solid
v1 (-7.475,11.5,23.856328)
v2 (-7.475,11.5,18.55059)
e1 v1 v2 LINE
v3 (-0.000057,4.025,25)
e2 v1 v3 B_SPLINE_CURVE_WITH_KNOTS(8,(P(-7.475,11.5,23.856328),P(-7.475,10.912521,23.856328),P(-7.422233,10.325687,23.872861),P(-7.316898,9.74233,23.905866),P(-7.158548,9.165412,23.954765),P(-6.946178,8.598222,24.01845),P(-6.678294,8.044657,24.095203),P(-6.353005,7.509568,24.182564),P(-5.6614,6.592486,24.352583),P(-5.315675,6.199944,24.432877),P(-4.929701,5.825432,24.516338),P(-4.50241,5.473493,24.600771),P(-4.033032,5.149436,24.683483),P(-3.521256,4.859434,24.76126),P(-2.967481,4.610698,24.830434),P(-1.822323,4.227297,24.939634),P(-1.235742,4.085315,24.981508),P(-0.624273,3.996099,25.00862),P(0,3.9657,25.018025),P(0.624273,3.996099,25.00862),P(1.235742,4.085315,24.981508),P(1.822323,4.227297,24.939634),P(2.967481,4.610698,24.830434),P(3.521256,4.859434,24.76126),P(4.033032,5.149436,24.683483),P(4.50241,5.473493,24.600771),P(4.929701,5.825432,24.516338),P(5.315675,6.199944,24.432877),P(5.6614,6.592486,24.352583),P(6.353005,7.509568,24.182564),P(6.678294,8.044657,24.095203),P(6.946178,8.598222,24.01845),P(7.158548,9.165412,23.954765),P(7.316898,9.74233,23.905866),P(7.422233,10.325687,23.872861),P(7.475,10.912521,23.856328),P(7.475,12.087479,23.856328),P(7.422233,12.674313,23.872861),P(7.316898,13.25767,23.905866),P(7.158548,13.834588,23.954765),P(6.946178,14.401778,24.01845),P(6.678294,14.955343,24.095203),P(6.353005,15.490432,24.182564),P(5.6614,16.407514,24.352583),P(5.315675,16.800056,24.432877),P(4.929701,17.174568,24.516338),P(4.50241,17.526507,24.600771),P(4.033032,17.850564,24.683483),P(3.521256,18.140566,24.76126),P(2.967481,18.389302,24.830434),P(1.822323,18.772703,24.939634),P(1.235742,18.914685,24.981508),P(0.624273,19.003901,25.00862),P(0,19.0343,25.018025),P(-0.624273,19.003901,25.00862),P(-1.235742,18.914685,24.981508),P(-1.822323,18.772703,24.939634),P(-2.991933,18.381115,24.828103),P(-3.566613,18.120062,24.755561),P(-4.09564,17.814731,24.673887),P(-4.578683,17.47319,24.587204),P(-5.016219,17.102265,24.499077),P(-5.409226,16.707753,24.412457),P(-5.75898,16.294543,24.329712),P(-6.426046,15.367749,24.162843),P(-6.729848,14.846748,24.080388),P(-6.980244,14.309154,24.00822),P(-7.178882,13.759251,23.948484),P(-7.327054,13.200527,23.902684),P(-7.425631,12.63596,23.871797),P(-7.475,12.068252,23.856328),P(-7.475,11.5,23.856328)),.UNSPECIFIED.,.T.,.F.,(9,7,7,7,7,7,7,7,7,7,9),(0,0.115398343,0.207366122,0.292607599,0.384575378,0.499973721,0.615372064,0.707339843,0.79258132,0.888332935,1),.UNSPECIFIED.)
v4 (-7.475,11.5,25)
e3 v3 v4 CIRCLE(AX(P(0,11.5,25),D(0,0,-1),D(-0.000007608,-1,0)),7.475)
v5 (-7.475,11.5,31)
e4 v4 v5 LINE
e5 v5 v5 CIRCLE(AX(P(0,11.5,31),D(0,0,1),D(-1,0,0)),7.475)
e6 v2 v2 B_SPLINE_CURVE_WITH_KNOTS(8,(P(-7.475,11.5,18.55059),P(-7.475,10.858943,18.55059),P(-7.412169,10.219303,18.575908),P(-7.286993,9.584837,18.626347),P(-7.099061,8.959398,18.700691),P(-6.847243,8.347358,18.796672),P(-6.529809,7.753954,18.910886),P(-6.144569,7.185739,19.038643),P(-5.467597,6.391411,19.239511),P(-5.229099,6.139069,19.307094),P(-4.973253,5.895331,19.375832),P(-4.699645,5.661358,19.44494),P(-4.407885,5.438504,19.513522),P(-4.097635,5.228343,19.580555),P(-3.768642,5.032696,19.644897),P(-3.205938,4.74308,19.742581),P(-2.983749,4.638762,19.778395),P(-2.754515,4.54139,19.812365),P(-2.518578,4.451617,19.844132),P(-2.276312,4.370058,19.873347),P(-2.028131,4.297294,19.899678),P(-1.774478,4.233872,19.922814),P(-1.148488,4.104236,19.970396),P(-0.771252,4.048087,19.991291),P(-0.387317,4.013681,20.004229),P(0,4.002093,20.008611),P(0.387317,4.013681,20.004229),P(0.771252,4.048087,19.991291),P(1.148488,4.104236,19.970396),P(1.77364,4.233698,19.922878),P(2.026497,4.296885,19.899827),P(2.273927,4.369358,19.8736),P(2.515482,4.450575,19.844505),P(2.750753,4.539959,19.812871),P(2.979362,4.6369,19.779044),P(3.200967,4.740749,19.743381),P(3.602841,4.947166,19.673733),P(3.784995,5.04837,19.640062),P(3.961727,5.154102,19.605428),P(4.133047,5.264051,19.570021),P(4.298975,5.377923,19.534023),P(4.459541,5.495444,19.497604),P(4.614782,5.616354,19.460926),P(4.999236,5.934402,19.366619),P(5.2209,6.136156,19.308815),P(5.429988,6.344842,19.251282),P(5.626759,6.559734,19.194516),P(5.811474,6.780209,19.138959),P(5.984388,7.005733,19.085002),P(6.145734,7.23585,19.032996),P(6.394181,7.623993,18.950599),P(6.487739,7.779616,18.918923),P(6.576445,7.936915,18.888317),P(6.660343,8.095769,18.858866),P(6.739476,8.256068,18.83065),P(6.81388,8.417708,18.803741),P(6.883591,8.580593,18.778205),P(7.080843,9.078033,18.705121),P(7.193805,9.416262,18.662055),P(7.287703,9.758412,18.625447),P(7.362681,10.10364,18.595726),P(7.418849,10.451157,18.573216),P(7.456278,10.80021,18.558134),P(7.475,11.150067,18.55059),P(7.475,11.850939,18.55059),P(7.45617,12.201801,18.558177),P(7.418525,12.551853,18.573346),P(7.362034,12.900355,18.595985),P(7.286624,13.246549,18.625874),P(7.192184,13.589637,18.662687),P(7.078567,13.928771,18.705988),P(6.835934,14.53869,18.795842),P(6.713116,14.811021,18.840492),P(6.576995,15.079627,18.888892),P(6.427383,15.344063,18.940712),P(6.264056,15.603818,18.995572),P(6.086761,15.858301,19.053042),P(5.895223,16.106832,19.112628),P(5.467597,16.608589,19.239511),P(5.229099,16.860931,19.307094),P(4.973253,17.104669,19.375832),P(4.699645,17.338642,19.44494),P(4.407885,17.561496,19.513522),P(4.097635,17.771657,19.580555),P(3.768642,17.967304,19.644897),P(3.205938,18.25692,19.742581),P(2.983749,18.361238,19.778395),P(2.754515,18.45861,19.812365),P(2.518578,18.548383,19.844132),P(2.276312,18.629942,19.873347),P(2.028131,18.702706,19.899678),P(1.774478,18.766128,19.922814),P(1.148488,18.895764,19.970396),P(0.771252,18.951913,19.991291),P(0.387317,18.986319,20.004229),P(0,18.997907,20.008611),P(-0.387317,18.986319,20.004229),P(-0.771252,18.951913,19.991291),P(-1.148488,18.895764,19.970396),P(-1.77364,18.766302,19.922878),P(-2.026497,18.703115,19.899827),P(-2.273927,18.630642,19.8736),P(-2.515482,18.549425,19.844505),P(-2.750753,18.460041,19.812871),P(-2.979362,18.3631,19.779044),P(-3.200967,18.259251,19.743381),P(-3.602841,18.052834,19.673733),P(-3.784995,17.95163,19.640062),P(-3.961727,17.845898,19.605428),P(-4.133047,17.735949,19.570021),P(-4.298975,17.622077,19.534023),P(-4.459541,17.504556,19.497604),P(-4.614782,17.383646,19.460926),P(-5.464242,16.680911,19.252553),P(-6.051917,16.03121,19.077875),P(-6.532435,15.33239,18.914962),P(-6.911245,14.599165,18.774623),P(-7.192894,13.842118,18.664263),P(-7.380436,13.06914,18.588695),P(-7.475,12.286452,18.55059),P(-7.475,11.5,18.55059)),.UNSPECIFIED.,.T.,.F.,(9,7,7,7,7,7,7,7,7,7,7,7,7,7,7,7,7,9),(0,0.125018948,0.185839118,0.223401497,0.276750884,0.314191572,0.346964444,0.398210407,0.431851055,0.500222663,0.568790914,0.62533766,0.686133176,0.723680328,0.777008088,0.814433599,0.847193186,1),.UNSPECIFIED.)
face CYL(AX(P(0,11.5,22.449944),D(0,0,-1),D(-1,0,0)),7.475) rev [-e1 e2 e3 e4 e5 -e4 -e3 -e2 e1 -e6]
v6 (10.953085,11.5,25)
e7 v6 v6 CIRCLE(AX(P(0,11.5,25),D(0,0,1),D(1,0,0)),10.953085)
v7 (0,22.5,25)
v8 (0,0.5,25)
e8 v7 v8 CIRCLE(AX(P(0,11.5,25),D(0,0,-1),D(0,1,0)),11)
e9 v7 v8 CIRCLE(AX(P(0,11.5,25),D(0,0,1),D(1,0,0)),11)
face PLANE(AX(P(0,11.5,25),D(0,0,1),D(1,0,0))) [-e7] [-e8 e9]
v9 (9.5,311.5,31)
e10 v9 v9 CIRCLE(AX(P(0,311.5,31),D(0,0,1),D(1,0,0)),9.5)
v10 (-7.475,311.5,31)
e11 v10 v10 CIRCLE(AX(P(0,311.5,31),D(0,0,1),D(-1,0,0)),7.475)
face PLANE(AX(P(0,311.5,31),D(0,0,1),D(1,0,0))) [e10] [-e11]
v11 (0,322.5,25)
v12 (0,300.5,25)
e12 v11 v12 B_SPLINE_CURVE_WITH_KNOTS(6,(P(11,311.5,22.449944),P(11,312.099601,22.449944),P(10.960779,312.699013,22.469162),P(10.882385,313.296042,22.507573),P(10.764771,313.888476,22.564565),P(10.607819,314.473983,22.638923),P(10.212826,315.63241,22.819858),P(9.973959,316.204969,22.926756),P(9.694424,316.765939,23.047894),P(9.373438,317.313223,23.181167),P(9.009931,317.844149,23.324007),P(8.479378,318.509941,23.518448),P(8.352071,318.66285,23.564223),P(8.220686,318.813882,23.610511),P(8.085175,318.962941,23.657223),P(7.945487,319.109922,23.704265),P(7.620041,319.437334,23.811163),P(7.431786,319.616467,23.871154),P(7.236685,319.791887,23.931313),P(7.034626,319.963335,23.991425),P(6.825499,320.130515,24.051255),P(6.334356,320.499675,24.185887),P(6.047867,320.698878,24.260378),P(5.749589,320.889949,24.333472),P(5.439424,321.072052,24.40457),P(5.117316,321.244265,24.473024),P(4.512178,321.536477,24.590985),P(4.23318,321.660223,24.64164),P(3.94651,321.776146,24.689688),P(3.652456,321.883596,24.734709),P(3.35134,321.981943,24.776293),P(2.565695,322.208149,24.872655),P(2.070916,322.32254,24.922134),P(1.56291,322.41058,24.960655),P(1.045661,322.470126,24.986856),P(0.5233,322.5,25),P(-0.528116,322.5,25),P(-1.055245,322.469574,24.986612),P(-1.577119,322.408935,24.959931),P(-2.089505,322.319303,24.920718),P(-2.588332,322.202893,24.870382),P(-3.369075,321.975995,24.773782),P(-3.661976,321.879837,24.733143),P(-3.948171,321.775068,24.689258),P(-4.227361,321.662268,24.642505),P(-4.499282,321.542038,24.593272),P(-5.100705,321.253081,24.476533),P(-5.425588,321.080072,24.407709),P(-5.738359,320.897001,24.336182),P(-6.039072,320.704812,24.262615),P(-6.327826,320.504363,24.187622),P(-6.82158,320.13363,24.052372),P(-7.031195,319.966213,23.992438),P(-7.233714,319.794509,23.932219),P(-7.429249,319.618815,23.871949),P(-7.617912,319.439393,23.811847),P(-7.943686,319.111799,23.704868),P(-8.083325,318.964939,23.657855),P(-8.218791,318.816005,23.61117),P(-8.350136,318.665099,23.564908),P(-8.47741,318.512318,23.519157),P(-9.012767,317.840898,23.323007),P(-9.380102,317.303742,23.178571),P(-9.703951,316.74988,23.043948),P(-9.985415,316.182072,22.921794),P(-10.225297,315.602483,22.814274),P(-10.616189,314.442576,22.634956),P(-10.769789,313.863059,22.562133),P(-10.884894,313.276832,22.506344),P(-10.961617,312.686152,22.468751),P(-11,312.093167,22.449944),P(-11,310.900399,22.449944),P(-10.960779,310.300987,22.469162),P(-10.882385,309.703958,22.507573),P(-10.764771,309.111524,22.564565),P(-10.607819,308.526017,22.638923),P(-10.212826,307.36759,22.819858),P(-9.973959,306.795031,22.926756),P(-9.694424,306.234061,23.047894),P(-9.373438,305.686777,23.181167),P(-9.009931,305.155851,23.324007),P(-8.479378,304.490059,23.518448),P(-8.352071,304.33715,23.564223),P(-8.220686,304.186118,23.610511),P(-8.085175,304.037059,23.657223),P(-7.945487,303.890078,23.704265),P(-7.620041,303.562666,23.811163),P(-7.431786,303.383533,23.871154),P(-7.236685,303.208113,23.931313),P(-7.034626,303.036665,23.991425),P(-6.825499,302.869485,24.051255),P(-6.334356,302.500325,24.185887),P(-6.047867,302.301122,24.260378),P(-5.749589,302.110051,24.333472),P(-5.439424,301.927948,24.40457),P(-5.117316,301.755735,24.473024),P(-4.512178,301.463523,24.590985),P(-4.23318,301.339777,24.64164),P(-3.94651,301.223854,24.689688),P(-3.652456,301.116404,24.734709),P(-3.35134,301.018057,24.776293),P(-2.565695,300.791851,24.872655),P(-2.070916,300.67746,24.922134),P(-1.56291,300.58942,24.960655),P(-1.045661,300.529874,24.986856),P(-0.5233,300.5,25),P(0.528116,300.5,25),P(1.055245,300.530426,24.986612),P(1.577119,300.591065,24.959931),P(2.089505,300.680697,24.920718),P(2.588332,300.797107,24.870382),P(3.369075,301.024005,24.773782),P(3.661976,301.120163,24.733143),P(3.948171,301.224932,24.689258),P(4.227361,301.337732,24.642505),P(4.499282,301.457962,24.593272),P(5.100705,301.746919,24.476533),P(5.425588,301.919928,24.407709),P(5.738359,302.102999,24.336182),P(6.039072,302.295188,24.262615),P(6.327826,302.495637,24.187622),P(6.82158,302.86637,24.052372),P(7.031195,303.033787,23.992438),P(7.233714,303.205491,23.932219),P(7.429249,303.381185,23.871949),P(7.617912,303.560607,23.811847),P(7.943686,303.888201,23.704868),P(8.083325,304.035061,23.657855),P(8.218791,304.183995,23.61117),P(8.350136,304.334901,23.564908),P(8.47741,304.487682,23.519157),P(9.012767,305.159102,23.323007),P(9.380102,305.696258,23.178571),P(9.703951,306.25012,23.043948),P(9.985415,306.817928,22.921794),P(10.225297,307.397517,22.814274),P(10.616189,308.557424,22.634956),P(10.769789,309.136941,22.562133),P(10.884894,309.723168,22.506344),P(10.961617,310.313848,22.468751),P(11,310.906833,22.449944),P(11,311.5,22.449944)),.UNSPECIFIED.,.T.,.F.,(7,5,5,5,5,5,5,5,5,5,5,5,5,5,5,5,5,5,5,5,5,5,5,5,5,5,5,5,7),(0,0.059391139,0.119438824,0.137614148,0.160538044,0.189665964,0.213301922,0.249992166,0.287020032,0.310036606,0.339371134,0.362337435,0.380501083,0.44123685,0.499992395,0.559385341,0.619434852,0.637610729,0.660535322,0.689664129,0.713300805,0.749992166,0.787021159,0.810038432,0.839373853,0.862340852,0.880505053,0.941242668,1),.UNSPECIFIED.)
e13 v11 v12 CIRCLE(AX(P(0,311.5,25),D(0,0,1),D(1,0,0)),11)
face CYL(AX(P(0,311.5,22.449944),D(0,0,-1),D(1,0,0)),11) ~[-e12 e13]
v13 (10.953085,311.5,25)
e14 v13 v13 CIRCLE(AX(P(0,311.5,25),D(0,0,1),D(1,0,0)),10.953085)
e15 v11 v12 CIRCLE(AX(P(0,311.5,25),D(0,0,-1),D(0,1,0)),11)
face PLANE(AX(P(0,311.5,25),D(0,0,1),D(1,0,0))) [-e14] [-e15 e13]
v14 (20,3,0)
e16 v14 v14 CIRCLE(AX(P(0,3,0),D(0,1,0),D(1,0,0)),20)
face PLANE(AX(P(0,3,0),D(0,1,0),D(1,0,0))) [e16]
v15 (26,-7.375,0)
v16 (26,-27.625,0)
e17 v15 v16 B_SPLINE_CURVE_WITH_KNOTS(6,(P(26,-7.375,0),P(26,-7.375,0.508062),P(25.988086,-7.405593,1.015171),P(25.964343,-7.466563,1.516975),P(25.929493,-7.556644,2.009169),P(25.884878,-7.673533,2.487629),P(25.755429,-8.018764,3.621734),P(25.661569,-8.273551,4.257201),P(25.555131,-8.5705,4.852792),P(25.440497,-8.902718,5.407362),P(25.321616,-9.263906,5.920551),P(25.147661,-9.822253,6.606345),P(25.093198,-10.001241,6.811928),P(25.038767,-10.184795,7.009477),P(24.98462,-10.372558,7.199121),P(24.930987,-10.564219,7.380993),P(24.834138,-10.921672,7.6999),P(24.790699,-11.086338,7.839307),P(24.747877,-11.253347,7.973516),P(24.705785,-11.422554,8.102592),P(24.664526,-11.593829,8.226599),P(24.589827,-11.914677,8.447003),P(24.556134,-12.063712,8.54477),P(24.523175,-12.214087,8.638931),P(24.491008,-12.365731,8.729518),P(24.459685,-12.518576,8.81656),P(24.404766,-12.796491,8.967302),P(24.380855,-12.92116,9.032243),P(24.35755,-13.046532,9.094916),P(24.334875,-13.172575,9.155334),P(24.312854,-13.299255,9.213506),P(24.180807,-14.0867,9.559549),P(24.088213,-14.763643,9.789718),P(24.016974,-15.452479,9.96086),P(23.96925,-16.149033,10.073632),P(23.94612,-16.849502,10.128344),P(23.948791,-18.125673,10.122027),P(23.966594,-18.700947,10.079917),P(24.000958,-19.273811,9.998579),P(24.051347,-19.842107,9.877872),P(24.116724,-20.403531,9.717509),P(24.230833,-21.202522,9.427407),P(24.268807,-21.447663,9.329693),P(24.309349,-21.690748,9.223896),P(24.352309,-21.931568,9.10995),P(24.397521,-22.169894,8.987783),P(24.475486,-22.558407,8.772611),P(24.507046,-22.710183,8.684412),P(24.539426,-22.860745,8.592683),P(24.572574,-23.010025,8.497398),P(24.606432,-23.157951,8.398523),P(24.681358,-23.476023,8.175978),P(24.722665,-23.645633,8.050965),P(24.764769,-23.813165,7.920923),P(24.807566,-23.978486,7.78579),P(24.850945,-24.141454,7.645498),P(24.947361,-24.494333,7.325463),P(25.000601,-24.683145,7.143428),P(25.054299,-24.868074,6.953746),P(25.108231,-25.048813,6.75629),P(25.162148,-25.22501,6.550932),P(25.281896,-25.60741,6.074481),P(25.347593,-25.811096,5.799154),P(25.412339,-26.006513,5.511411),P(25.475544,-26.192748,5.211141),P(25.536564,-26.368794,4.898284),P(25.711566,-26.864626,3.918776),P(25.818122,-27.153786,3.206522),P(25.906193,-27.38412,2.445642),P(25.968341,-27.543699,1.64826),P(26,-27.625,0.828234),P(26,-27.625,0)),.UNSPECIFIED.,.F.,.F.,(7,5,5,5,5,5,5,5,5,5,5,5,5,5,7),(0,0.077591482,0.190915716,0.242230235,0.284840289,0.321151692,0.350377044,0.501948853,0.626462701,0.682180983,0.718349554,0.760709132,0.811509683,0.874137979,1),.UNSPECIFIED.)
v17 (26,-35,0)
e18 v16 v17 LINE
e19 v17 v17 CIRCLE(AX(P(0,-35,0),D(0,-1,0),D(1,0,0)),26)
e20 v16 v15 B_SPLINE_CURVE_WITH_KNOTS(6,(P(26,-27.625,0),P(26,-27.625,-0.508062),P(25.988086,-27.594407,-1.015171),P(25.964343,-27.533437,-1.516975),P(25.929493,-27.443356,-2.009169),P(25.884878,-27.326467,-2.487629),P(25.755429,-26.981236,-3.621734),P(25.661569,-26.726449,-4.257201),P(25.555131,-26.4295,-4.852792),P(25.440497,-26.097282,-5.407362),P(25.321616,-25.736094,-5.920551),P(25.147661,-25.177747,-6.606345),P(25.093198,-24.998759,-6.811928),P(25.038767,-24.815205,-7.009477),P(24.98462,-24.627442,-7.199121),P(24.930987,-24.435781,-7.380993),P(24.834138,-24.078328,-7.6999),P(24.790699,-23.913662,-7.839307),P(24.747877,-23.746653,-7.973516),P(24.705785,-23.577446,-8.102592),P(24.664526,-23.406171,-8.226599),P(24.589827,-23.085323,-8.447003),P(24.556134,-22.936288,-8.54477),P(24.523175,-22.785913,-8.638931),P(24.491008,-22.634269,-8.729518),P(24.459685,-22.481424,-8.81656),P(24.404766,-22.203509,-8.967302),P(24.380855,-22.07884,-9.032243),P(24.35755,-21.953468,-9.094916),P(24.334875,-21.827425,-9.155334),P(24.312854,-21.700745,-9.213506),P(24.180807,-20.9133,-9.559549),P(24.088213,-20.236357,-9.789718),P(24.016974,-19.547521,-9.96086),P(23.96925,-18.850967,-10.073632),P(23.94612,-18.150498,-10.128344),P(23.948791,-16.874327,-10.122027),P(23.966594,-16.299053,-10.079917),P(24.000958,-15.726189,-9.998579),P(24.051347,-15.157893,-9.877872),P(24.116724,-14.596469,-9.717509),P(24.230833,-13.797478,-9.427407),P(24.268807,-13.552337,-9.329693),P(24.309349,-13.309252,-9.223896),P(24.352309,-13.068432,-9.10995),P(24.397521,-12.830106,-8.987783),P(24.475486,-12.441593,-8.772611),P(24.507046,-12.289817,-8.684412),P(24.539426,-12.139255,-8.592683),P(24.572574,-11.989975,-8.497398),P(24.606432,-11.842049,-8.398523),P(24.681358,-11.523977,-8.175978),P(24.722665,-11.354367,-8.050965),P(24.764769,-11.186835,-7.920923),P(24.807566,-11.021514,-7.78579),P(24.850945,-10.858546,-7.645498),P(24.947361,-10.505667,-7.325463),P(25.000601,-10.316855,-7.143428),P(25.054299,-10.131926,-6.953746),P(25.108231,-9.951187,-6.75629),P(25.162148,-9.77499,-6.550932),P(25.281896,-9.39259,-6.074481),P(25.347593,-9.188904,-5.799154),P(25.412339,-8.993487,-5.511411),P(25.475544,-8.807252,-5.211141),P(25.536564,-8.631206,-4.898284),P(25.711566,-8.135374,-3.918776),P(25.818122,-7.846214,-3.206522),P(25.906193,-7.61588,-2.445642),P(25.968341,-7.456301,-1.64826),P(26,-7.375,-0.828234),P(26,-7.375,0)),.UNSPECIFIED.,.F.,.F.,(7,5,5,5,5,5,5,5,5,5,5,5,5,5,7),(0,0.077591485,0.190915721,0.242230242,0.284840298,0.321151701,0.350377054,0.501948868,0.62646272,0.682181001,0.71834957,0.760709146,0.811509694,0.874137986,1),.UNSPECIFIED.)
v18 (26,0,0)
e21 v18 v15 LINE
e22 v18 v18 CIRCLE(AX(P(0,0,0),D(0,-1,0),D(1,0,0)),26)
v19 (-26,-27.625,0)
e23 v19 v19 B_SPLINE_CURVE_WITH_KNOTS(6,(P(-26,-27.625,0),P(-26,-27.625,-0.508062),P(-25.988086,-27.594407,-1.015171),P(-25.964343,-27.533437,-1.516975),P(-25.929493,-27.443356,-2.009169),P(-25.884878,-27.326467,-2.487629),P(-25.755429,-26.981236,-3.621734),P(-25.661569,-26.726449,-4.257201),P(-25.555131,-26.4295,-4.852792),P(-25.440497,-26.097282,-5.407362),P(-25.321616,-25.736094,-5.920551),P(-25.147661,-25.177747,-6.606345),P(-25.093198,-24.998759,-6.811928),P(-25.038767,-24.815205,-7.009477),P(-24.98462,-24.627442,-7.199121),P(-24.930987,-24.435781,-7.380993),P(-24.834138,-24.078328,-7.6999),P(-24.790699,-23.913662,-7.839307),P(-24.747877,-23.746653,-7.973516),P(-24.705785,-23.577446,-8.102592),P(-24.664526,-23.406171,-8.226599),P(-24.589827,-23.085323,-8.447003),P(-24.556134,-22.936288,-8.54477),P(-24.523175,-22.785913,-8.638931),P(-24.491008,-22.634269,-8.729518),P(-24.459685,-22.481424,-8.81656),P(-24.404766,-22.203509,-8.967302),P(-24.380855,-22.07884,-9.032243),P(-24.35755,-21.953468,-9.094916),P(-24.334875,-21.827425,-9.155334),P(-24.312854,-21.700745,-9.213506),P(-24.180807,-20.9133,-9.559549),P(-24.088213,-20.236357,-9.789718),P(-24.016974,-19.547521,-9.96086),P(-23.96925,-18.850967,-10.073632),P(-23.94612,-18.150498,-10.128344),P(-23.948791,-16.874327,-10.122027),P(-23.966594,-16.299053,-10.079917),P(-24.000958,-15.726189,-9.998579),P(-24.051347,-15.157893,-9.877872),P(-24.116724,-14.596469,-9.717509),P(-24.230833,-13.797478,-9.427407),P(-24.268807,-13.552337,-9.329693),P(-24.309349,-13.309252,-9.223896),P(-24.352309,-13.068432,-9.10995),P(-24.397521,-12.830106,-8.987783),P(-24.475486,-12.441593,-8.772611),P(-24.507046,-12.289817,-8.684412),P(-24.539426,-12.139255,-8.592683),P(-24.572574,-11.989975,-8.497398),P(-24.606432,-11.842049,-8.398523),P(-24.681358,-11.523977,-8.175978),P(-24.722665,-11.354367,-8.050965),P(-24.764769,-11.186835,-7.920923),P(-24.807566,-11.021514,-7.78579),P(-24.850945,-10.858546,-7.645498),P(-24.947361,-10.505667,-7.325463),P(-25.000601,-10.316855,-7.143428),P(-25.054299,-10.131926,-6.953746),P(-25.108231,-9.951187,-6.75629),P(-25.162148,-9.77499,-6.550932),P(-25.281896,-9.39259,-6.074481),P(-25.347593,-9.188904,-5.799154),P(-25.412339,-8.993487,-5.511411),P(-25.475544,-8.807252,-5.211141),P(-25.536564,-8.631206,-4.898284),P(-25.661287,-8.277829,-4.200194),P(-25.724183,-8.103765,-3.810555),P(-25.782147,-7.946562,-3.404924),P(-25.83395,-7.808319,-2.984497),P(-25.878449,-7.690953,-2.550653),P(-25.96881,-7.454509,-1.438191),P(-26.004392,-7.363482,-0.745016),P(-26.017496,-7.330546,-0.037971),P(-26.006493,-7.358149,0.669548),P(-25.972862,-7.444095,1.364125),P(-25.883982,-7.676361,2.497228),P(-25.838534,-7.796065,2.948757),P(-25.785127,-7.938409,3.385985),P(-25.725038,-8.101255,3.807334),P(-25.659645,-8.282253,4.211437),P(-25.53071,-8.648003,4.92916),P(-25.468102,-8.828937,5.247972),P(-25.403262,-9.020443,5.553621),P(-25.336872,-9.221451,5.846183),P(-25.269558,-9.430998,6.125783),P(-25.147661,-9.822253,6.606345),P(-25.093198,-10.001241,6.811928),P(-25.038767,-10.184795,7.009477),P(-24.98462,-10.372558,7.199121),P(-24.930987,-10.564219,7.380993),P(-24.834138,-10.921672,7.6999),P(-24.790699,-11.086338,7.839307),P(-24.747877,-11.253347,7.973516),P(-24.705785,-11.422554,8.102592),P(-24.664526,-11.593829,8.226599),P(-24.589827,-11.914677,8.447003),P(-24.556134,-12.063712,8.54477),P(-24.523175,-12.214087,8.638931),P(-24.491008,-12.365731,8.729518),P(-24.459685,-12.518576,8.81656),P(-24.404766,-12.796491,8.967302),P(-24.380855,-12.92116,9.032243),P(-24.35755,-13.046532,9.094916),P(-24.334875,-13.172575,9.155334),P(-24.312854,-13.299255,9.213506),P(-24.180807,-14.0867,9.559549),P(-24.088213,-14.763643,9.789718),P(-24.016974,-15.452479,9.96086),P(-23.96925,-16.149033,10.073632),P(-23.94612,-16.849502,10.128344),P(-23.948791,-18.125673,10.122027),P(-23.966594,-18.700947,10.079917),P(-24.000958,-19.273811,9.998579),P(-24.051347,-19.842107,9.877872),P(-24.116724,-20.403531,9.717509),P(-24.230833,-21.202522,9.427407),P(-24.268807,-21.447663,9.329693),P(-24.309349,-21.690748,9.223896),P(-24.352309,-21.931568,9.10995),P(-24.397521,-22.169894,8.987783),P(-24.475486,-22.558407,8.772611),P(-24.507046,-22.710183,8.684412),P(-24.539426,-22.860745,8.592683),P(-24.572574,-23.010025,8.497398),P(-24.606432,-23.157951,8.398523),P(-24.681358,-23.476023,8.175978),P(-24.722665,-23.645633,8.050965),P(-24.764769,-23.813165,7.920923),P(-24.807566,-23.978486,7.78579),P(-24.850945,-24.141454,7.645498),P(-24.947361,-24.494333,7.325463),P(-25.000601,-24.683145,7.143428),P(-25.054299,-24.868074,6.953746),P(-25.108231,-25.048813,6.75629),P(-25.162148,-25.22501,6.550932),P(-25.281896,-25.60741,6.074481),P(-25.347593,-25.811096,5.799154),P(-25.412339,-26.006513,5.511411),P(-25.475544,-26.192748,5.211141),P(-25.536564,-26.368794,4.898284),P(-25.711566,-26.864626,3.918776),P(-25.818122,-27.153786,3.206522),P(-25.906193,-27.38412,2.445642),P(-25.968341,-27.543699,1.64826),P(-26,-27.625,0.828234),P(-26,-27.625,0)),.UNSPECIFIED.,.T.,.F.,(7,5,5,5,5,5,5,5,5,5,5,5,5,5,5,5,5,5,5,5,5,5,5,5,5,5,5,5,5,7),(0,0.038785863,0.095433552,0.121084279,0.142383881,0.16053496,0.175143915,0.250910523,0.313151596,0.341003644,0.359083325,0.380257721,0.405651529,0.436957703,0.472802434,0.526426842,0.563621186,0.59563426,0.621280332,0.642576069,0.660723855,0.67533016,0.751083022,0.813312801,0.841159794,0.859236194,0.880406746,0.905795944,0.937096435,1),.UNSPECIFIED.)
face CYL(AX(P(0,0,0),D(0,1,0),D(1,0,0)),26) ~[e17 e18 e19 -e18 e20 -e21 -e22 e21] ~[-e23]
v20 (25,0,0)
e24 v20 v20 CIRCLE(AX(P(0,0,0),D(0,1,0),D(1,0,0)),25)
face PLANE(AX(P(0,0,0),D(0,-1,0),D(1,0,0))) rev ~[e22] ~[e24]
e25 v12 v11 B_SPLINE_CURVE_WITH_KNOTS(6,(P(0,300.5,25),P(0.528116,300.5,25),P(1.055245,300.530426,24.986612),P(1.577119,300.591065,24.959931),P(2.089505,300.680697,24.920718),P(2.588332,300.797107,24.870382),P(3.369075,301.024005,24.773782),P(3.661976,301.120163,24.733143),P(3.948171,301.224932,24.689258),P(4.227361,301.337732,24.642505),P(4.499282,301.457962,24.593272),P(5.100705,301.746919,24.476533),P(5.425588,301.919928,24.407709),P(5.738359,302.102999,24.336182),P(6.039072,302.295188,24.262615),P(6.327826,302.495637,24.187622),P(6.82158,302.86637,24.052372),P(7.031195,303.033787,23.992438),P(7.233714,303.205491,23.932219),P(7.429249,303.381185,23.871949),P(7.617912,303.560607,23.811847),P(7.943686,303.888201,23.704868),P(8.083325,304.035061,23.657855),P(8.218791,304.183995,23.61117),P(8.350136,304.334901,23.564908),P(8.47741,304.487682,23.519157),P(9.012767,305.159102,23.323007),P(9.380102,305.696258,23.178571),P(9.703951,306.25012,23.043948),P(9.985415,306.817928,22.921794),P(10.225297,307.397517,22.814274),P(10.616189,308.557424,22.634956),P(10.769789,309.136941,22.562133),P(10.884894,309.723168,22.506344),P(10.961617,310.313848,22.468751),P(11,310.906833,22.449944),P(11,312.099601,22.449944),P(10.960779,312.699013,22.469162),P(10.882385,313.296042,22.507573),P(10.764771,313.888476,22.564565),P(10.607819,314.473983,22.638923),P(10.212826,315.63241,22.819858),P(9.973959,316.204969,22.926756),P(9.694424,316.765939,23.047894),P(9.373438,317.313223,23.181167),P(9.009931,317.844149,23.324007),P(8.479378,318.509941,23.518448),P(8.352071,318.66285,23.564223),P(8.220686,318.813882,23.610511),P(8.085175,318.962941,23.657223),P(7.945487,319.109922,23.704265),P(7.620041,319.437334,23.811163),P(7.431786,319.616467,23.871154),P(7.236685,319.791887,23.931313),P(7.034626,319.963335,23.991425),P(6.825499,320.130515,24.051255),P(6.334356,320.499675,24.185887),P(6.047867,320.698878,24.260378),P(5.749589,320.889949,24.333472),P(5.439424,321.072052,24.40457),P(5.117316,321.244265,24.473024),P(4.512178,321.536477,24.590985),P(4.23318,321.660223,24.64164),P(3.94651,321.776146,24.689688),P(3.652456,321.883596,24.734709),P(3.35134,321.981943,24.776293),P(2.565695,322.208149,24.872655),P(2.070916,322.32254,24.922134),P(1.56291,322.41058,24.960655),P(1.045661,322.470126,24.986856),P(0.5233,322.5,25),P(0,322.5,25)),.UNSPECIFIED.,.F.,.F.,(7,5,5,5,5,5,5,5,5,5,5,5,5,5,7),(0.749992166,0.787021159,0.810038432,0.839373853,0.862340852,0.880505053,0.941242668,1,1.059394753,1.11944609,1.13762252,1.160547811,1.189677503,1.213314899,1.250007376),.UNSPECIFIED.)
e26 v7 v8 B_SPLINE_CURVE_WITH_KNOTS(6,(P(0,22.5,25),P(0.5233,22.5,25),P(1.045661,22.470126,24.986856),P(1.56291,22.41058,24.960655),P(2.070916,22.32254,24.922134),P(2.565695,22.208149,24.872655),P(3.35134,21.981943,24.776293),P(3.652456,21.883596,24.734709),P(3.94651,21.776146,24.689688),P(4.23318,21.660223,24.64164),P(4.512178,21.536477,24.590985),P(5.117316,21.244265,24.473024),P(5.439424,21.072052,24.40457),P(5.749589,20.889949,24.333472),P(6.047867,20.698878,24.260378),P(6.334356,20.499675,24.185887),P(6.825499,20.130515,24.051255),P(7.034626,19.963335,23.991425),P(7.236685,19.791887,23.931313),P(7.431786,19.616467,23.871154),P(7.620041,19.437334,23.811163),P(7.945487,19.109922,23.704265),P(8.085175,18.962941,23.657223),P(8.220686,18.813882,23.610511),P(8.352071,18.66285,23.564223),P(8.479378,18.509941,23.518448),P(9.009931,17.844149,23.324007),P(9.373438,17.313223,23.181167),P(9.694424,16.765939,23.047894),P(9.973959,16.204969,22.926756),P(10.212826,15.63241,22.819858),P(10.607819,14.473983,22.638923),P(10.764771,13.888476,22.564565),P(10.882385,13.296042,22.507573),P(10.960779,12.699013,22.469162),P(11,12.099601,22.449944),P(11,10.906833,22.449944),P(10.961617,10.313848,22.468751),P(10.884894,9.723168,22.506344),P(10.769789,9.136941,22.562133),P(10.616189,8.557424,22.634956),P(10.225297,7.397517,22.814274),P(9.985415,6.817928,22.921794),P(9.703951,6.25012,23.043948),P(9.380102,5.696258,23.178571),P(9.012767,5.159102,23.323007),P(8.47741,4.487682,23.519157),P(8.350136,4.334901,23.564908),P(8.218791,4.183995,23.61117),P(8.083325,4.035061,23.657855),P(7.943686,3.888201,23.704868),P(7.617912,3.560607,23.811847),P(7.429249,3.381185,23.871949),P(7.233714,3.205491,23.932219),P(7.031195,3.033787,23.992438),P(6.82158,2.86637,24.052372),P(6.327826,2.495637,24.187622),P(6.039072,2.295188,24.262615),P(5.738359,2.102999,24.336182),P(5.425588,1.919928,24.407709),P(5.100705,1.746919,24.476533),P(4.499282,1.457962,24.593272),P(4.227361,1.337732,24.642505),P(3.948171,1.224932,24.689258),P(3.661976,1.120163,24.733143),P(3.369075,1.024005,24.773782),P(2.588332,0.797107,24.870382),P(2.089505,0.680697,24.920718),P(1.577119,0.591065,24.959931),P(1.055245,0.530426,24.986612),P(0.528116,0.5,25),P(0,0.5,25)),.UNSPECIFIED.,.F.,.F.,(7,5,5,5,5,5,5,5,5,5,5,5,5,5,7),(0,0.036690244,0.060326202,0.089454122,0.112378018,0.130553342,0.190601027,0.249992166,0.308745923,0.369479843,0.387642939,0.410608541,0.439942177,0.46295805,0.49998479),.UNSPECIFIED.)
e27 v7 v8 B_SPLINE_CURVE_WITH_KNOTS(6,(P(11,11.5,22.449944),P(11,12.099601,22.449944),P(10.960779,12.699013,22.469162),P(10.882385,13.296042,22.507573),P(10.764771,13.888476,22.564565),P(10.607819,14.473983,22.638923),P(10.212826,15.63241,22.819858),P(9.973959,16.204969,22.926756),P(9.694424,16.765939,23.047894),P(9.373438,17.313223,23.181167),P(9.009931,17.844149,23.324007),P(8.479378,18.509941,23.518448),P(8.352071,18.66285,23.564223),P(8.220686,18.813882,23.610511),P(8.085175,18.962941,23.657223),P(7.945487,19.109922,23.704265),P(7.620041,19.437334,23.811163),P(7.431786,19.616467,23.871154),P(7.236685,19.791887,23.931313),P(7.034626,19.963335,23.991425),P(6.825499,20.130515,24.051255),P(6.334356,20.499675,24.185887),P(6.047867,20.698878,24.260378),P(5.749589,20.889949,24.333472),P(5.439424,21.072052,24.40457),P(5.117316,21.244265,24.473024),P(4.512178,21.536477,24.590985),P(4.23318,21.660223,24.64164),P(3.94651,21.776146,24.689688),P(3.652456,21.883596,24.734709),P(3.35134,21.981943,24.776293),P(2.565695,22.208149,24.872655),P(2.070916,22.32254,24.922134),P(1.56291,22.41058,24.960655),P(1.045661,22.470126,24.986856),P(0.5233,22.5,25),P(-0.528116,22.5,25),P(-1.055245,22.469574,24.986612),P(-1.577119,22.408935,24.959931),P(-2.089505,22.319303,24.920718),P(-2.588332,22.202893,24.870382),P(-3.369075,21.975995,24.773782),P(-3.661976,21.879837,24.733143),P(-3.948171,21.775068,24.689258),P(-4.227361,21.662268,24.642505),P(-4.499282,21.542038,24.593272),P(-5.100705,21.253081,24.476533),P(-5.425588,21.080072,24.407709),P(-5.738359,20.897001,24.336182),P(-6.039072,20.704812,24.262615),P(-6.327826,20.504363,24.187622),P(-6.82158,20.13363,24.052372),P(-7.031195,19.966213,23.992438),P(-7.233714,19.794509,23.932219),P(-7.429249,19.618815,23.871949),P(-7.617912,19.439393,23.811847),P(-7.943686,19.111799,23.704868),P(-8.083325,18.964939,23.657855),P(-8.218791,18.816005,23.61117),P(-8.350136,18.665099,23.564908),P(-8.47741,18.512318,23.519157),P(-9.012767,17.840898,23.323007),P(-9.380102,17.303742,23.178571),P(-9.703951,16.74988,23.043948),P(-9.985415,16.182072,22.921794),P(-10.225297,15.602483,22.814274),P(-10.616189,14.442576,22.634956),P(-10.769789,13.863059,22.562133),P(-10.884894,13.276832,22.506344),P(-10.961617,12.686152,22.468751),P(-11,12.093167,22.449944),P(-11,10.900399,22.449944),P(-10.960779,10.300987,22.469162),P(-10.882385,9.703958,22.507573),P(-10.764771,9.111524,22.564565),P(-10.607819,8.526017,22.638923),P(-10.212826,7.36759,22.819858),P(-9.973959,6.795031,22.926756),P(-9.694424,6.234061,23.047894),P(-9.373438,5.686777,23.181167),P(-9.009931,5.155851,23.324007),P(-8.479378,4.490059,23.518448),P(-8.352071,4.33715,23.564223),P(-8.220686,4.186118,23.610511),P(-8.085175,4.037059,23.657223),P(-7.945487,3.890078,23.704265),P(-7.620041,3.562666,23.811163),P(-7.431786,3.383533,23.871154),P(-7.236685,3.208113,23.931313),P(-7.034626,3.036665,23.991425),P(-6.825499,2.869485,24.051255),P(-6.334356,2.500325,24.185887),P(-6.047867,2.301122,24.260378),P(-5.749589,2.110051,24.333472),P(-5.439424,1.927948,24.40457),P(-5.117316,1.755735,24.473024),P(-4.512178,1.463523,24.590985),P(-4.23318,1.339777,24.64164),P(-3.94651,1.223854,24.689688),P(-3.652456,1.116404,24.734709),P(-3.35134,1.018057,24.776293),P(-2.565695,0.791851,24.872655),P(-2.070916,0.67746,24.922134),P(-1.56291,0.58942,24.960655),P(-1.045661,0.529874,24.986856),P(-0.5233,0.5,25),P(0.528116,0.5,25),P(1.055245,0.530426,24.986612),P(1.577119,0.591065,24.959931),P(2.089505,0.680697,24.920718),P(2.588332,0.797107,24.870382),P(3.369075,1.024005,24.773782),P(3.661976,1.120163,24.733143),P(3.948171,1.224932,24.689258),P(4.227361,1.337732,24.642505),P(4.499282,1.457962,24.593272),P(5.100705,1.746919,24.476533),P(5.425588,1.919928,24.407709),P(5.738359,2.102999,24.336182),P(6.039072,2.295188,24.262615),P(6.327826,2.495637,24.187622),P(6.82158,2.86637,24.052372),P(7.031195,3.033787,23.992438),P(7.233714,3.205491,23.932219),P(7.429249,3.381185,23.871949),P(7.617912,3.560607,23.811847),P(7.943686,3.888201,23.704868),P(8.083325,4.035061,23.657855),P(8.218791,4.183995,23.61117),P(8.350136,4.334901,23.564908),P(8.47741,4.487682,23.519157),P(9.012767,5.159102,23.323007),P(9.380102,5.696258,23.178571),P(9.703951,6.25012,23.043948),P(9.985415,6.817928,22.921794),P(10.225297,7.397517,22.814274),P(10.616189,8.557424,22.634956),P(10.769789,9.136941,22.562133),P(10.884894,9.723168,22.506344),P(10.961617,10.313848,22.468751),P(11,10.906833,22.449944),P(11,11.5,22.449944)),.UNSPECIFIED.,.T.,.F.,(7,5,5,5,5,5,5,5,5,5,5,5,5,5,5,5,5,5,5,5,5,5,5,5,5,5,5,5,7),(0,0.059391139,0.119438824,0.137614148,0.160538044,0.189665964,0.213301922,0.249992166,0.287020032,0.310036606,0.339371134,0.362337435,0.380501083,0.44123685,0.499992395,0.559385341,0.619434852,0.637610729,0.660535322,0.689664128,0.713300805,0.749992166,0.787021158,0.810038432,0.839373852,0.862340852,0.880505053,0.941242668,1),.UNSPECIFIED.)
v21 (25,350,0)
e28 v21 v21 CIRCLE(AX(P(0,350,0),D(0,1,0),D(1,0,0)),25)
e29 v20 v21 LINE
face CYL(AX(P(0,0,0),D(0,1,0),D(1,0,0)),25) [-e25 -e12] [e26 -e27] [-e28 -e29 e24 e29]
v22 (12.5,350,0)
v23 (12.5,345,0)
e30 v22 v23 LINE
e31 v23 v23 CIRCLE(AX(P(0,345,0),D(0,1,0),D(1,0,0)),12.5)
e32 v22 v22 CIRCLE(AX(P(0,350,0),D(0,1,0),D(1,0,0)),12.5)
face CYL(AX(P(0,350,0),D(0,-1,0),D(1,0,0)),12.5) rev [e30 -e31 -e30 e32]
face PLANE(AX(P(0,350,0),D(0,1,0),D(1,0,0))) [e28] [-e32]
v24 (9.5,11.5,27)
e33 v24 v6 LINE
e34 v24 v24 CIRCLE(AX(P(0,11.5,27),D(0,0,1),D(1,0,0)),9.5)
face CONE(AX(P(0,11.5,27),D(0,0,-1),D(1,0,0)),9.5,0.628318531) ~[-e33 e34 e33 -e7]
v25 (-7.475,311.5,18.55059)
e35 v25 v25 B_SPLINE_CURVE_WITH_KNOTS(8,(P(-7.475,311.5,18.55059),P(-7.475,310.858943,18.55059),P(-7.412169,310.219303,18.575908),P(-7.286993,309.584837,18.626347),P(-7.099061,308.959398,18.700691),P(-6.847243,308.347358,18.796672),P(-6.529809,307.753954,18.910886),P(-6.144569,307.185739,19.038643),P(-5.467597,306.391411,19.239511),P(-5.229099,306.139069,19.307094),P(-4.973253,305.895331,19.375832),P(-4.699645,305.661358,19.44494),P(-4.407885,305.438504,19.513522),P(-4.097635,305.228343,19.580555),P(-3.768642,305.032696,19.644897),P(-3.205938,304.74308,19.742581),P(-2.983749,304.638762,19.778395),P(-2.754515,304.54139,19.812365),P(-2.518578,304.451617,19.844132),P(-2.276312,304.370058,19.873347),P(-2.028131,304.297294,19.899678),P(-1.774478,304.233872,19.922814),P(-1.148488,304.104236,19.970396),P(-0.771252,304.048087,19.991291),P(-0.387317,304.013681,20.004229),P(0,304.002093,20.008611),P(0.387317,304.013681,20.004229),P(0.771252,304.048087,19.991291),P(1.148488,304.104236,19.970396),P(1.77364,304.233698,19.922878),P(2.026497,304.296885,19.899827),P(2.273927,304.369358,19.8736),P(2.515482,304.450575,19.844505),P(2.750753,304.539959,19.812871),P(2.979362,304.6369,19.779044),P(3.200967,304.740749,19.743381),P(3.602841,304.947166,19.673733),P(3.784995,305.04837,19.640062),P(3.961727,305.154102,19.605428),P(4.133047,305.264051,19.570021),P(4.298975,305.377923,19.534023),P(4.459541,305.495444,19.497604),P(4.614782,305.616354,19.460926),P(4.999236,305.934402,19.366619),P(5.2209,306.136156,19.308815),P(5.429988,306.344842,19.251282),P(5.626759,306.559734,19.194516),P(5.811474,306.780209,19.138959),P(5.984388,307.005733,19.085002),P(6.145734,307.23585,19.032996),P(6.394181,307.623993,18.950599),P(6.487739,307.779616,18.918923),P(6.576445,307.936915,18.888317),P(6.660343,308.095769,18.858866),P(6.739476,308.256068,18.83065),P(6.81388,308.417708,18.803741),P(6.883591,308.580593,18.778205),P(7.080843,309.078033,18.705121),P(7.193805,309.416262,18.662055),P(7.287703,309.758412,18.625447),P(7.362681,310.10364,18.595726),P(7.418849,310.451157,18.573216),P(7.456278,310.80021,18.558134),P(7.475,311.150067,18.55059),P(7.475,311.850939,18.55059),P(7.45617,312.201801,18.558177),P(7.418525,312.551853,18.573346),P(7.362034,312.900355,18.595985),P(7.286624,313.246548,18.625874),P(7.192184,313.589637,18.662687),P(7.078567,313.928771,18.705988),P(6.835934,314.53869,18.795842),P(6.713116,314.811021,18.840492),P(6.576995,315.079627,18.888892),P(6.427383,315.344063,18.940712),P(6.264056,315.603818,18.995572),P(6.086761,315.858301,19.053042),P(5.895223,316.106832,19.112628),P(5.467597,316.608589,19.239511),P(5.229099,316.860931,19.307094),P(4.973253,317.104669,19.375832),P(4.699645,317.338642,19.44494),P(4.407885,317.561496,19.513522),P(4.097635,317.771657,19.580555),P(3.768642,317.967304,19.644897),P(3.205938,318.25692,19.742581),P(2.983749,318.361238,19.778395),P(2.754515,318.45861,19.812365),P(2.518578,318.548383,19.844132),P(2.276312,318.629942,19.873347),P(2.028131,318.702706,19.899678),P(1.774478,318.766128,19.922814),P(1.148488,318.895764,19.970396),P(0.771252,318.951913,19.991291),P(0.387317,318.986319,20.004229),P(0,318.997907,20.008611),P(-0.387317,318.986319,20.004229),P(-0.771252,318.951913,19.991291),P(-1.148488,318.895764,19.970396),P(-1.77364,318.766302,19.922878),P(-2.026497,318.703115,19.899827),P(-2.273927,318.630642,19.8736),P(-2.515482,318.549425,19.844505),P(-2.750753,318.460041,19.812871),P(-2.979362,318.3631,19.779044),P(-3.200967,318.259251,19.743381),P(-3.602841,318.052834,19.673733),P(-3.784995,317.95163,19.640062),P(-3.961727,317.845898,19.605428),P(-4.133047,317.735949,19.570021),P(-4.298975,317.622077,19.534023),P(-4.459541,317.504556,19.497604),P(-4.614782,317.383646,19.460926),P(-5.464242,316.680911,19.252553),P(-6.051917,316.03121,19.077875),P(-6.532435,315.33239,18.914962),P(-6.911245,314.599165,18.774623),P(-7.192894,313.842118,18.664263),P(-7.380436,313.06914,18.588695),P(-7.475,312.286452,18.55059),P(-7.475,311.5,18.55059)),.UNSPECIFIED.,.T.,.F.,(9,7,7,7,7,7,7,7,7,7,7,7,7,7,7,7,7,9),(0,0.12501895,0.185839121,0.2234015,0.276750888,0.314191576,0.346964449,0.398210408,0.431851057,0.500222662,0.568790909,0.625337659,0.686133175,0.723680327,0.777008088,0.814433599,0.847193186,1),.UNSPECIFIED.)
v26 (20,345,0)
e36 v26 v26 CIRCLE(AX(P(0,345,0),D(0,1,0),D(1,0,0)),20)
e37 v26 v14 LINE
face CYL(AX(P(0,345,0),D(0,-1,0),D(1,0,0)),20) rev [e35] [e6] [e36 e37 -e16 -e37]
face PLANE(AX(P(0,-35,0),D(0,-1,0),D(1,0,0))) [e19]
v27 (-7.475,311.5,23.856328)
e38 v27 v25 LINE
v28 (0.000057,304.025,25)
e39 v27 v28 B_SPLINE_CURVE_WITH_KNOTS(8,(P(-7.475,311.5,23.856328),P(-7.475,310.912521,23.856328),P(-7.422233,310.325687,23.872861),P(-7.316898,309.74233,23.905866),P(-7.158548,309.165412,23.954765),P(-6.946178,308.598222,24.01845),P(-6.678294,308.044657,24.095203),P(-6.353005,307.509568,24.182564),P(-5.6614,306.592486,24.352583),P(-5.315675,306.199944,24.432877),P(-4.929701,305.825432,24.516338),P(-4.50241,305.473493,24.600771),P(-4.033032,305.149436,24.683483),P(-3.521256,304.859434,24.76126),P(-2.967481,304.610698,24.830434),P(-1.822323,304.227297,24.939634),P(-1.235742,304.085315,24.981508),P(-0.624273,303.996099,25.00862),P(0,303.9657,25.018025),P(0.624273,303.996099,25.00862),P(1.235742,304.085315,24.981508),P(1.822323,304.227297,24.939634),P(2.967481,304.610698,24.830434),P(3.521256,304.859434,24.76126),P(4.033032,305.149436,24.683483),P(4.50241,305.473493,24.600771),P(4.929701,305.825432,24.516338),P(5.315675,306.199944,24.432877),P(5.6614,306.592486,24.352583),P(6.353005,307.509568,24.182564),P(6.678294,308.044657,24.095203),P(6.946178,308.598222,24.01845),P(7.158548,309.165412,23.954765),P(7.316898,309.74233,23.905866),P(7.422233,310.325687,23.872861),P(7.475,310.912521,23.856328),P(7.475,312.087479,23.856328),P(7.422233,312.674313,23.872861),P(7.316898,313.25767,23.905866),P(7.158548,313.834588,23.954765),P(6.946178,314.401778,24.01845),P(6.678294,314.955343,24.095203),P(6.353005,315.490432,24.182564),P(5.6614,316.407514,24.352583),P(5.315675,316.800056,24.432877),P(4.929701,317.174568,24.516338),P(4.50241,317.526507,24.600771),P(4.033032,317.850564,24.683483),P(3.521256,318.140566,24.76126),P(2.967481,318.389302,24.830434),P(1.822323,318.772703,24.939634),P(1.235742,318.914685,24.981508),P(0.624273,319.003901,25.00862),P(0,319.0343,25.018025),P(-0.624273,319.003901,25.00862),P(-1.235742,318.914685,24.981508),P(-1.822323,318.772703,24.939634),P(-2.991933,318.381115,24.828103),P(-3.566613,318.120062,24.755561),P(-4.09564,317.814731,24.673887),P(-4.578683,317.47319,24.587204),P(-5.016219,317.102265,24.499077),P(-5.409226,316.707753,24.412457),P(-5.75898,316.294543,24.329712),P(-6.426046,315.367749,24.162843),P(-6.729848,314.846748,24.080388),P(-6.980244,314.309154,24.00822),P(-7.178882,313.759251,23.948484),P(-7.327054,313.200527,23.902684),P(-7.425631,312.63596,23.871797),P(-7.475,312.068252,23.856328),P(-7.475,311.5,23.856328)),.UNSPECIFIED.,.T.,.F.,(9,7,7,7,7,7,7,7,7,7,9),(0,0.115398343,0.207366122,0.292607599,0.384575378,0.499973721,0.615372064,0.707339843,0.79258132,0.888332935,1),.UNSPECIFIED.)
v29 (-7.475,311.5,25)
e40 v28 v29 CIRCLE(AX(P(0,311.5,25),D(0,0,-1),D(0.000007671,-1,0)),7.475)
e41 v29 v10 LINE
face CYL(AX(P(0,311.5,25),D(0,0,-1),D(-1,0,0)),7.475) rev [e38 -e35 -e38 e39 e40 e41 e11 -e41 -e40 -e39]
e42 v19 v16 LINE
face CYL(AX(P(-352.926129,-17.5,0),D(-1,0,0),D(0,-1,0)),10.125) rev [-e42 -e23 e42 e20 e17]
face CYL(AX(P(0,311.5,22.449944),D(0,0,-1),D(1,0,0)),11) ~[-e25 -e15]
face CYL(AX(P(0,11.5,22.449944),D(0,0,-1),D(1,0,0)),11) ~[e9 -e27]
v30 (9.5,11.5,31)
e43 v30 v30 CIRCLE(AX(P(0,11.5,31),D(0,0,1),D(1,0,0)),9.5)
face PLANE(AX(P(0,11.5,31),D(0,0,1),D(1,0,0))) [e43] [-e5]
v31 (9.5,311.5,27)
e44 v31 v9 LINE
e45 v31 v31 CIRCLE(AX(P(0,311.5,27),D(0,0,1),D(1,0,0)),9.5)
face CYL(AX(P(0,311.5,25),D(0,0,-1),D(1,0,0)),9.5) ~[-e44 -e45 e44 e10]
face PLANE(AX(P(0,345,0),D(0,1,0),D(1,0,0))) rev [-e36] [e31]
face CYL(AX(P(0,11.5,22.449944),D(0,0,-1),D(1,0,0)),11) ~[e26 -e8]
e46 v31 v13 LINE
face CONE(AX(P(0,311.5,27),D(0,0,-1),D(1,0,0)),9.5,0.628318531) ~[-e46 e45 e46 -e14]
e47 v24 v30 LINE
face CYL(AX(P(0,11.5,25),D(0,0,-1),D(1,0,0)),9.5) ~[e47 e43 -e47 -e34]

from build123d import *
from OCP.BRepFilletAPI import BRepFilletAPI_MakeChamfer

# Parameters (mm, degrees)
ESQUISSE2_R                  = 26
BOSS_EXTRU_1_DEPTH           = 35
ESQUISSE3_R                  = 7.475
ENL_V_MAT_EXTRU_2_DEPTH      = 352.926128612
ENL_V_MAT_EXTRU_3_DEPTH      = 352.926128712
ENL_V_MAT_EXTRU_3_DEPTH_BACK = 352.926128712
ESQUISSE4_R                  = 10.125
BOSS_EXTRU_2_START           = -2.550056
ESQUISSE5_R                  = 11
ESQUISSE5_R_2                = 7.475
BOSS_EXTRU_2_DEPTH           = 2.550056
ESQUISSE6_R                  = 9.5
ESQUISSE6_R_2                = 7.475
BOSS_EXTRU_3_DEPTH           = 6
CHANFREIN2_SIZE              = 2
CHANFREIN2_SIZE2             = 1.453085056


with BuildPart() as part:
    # Esquisse1 → Révolution1 (revolve)
    with BuildSketch(Plane.XY):
        Polygon((0, 0), (25, 0), (25, 350), (12.5, 350), (12.5, 345), (20, 345), (20, 3), (0, 3), align=None)
    revolve(axis=Axis((0, 3, 0), (0, 1, 0)))

    # Esquisse2 → Boss.-Extru.1 (add)
    with BuildSketch(Plane(origin=(0, 0, 0), x_dir=(-1, 0, 0), z_dir=(0, -1, 0))):
        with Locations(Location((0, 0, 0), (0, 0, 180))):
            Circle(ESQUISSE2_R)
    extrude(amount=BOSS_EXTRU_1_DEPTH)

    # Esquisse3 → Enlèv. mat.-Extru.2 (cut, through all)
    with BuildSketch(Plane.XY):
        with Locations(Location((0, 11.5, 0), (0, 0, 180))):
            Circle(ESQUISSE3_R)
        with Locations(Location((0, 311.5, 0), (0, 0, 180))):
            Circle(ESQUISSE3_R)
    extrude(amount=ENL_V_MAT_EXTRU_2_DEPTH, mode=Mode.SUBTRACT)

    # Esquisse4 → Enlèv. mat.-Extru.3 (cut, two sides: drawn at the far end of the back side and taken through both)
    with BuildSketch(Plane(origin=(0, 0, 0), x_dir=(0, 0, -1), z_dir=(1, 0, 0)).offset(-ENL_V_MAT_EXTRU_3_DEPTH_BACK)):
        with Locations(Location((0, -17.5, 0), (0, 0, 270))):
            Circle(ESQUISSE4_R)
    extrude(amount=ENL_V_MAT_EXTRU_3_DEPTH + ENL_V_MAT_EXTRU_3_DEPTH_BACK, mode=Mode.SUBTRACT)

    # Esquisse5 → Boss.-Extru.2 (add)
    # profile 1 of 2: a face of its own
    with BuildSketch(Plane.XY.offset(25).offset(BOSS_EXTRU_2_START)):
        with Locations((0, 311.5)):
            Circle(ESQUISSE5_R)
        with Locations(Location((0, 311.5, 0), (0, 0, 180))):
            Circle(ESQUISSE5_R_2, mode=Mode.SUBTRACT)
    # profile 2 of 2: a face of its own
    with BuildSketch(Plane.XY.offset(25).offset(BOSS_EXTRU_2_START)):
        with Locations((0, 11.5)):
            Circle(ESQUISSE5_R)
        with Locations(Location((0, 11.5, 0), (0, 0, 180))):
            Circle(ESQUISSE5_R_2, mode=Mode.SUBTRACT)
    extrude(amount=BOSS_EXTRU_2_DEPTH)

    # Esquisse6 → Boss.-Extru.3 (add)
    # profile 1 of 2: a face of its own
    with BuildSketch(Plane.XY.offset(25)):
        with Locations((0, 311.5)):
            Circle(ESQUISSE6_R)
        with Locations(Location((0, 311.5, 0), (0, 0, 180))):
            Circle(ESQUISSE6_R_2, mode=Mode.SUBTRACT)
    # profile 2 of 2: a face of its own
    with BuildSketch(Plane.XY.offset(25)):
        with Locations((0, 11.5)):
            Circle(ESQUISSE6_R)
        with Locations(Location((0, 11.5, 0), (0, 0, 180))):
            Circle(ESQUISSE6_R_2, mode=Mode.SUBTRACT)
    extrude(amount=BOSS_EXTRU_3_DEPTH)

    # Chanfrein2: one chamfer whose edges measure the first distance from different faces: ONE call of the kernel's chamfer builder (chamfer() names one face for all edges)
    chanfrein2_edges_1 = [part.edges().sort_by_distance(p)[0] for p in [
        (6.717514421, 304.782485579, 25),
    ]]
    chanfrein2_side_1 = [part.faces().sort_by_distance(p)[0] for p in [
        (-9.5, 311.5, 28),
    ]]
    chanfrein2_edges_2 = [part.edges().sort_by_distance(p)[0] for p in [
        (6.717514421, 4.782485579, 25),
    ]]
    chanfrein2_side_2 = [part.faces().sort_by_distance(p)[0] for p in [
        (-9.5, 11.5, 28),
    ]]
    chanfrein2 = BRepFilletAPI_MakeChamfer(part.part.solid().wrapped)
    for e in chanfrein2_edges_1:
        chanfrein2.Add(CHANFREIN2_SIZE, CHANFREIN2_SIZE2, e.wrapped, chanfrein2_side_1[0].wrapped)  # the first distance lies on this face
    for e in chanfrein2_edges_2:
        chanfrein2.Add(CHANFREIN2_SIZE, CHANFREIN2_SIZE2, e.wrapped, chanfrein2_side_2[0].wrapped)  # the first distance lies on this face
    add(Compound.cast(chanfrein2.Shape()), mode=Mode.REPLACE)


solid = part.part
